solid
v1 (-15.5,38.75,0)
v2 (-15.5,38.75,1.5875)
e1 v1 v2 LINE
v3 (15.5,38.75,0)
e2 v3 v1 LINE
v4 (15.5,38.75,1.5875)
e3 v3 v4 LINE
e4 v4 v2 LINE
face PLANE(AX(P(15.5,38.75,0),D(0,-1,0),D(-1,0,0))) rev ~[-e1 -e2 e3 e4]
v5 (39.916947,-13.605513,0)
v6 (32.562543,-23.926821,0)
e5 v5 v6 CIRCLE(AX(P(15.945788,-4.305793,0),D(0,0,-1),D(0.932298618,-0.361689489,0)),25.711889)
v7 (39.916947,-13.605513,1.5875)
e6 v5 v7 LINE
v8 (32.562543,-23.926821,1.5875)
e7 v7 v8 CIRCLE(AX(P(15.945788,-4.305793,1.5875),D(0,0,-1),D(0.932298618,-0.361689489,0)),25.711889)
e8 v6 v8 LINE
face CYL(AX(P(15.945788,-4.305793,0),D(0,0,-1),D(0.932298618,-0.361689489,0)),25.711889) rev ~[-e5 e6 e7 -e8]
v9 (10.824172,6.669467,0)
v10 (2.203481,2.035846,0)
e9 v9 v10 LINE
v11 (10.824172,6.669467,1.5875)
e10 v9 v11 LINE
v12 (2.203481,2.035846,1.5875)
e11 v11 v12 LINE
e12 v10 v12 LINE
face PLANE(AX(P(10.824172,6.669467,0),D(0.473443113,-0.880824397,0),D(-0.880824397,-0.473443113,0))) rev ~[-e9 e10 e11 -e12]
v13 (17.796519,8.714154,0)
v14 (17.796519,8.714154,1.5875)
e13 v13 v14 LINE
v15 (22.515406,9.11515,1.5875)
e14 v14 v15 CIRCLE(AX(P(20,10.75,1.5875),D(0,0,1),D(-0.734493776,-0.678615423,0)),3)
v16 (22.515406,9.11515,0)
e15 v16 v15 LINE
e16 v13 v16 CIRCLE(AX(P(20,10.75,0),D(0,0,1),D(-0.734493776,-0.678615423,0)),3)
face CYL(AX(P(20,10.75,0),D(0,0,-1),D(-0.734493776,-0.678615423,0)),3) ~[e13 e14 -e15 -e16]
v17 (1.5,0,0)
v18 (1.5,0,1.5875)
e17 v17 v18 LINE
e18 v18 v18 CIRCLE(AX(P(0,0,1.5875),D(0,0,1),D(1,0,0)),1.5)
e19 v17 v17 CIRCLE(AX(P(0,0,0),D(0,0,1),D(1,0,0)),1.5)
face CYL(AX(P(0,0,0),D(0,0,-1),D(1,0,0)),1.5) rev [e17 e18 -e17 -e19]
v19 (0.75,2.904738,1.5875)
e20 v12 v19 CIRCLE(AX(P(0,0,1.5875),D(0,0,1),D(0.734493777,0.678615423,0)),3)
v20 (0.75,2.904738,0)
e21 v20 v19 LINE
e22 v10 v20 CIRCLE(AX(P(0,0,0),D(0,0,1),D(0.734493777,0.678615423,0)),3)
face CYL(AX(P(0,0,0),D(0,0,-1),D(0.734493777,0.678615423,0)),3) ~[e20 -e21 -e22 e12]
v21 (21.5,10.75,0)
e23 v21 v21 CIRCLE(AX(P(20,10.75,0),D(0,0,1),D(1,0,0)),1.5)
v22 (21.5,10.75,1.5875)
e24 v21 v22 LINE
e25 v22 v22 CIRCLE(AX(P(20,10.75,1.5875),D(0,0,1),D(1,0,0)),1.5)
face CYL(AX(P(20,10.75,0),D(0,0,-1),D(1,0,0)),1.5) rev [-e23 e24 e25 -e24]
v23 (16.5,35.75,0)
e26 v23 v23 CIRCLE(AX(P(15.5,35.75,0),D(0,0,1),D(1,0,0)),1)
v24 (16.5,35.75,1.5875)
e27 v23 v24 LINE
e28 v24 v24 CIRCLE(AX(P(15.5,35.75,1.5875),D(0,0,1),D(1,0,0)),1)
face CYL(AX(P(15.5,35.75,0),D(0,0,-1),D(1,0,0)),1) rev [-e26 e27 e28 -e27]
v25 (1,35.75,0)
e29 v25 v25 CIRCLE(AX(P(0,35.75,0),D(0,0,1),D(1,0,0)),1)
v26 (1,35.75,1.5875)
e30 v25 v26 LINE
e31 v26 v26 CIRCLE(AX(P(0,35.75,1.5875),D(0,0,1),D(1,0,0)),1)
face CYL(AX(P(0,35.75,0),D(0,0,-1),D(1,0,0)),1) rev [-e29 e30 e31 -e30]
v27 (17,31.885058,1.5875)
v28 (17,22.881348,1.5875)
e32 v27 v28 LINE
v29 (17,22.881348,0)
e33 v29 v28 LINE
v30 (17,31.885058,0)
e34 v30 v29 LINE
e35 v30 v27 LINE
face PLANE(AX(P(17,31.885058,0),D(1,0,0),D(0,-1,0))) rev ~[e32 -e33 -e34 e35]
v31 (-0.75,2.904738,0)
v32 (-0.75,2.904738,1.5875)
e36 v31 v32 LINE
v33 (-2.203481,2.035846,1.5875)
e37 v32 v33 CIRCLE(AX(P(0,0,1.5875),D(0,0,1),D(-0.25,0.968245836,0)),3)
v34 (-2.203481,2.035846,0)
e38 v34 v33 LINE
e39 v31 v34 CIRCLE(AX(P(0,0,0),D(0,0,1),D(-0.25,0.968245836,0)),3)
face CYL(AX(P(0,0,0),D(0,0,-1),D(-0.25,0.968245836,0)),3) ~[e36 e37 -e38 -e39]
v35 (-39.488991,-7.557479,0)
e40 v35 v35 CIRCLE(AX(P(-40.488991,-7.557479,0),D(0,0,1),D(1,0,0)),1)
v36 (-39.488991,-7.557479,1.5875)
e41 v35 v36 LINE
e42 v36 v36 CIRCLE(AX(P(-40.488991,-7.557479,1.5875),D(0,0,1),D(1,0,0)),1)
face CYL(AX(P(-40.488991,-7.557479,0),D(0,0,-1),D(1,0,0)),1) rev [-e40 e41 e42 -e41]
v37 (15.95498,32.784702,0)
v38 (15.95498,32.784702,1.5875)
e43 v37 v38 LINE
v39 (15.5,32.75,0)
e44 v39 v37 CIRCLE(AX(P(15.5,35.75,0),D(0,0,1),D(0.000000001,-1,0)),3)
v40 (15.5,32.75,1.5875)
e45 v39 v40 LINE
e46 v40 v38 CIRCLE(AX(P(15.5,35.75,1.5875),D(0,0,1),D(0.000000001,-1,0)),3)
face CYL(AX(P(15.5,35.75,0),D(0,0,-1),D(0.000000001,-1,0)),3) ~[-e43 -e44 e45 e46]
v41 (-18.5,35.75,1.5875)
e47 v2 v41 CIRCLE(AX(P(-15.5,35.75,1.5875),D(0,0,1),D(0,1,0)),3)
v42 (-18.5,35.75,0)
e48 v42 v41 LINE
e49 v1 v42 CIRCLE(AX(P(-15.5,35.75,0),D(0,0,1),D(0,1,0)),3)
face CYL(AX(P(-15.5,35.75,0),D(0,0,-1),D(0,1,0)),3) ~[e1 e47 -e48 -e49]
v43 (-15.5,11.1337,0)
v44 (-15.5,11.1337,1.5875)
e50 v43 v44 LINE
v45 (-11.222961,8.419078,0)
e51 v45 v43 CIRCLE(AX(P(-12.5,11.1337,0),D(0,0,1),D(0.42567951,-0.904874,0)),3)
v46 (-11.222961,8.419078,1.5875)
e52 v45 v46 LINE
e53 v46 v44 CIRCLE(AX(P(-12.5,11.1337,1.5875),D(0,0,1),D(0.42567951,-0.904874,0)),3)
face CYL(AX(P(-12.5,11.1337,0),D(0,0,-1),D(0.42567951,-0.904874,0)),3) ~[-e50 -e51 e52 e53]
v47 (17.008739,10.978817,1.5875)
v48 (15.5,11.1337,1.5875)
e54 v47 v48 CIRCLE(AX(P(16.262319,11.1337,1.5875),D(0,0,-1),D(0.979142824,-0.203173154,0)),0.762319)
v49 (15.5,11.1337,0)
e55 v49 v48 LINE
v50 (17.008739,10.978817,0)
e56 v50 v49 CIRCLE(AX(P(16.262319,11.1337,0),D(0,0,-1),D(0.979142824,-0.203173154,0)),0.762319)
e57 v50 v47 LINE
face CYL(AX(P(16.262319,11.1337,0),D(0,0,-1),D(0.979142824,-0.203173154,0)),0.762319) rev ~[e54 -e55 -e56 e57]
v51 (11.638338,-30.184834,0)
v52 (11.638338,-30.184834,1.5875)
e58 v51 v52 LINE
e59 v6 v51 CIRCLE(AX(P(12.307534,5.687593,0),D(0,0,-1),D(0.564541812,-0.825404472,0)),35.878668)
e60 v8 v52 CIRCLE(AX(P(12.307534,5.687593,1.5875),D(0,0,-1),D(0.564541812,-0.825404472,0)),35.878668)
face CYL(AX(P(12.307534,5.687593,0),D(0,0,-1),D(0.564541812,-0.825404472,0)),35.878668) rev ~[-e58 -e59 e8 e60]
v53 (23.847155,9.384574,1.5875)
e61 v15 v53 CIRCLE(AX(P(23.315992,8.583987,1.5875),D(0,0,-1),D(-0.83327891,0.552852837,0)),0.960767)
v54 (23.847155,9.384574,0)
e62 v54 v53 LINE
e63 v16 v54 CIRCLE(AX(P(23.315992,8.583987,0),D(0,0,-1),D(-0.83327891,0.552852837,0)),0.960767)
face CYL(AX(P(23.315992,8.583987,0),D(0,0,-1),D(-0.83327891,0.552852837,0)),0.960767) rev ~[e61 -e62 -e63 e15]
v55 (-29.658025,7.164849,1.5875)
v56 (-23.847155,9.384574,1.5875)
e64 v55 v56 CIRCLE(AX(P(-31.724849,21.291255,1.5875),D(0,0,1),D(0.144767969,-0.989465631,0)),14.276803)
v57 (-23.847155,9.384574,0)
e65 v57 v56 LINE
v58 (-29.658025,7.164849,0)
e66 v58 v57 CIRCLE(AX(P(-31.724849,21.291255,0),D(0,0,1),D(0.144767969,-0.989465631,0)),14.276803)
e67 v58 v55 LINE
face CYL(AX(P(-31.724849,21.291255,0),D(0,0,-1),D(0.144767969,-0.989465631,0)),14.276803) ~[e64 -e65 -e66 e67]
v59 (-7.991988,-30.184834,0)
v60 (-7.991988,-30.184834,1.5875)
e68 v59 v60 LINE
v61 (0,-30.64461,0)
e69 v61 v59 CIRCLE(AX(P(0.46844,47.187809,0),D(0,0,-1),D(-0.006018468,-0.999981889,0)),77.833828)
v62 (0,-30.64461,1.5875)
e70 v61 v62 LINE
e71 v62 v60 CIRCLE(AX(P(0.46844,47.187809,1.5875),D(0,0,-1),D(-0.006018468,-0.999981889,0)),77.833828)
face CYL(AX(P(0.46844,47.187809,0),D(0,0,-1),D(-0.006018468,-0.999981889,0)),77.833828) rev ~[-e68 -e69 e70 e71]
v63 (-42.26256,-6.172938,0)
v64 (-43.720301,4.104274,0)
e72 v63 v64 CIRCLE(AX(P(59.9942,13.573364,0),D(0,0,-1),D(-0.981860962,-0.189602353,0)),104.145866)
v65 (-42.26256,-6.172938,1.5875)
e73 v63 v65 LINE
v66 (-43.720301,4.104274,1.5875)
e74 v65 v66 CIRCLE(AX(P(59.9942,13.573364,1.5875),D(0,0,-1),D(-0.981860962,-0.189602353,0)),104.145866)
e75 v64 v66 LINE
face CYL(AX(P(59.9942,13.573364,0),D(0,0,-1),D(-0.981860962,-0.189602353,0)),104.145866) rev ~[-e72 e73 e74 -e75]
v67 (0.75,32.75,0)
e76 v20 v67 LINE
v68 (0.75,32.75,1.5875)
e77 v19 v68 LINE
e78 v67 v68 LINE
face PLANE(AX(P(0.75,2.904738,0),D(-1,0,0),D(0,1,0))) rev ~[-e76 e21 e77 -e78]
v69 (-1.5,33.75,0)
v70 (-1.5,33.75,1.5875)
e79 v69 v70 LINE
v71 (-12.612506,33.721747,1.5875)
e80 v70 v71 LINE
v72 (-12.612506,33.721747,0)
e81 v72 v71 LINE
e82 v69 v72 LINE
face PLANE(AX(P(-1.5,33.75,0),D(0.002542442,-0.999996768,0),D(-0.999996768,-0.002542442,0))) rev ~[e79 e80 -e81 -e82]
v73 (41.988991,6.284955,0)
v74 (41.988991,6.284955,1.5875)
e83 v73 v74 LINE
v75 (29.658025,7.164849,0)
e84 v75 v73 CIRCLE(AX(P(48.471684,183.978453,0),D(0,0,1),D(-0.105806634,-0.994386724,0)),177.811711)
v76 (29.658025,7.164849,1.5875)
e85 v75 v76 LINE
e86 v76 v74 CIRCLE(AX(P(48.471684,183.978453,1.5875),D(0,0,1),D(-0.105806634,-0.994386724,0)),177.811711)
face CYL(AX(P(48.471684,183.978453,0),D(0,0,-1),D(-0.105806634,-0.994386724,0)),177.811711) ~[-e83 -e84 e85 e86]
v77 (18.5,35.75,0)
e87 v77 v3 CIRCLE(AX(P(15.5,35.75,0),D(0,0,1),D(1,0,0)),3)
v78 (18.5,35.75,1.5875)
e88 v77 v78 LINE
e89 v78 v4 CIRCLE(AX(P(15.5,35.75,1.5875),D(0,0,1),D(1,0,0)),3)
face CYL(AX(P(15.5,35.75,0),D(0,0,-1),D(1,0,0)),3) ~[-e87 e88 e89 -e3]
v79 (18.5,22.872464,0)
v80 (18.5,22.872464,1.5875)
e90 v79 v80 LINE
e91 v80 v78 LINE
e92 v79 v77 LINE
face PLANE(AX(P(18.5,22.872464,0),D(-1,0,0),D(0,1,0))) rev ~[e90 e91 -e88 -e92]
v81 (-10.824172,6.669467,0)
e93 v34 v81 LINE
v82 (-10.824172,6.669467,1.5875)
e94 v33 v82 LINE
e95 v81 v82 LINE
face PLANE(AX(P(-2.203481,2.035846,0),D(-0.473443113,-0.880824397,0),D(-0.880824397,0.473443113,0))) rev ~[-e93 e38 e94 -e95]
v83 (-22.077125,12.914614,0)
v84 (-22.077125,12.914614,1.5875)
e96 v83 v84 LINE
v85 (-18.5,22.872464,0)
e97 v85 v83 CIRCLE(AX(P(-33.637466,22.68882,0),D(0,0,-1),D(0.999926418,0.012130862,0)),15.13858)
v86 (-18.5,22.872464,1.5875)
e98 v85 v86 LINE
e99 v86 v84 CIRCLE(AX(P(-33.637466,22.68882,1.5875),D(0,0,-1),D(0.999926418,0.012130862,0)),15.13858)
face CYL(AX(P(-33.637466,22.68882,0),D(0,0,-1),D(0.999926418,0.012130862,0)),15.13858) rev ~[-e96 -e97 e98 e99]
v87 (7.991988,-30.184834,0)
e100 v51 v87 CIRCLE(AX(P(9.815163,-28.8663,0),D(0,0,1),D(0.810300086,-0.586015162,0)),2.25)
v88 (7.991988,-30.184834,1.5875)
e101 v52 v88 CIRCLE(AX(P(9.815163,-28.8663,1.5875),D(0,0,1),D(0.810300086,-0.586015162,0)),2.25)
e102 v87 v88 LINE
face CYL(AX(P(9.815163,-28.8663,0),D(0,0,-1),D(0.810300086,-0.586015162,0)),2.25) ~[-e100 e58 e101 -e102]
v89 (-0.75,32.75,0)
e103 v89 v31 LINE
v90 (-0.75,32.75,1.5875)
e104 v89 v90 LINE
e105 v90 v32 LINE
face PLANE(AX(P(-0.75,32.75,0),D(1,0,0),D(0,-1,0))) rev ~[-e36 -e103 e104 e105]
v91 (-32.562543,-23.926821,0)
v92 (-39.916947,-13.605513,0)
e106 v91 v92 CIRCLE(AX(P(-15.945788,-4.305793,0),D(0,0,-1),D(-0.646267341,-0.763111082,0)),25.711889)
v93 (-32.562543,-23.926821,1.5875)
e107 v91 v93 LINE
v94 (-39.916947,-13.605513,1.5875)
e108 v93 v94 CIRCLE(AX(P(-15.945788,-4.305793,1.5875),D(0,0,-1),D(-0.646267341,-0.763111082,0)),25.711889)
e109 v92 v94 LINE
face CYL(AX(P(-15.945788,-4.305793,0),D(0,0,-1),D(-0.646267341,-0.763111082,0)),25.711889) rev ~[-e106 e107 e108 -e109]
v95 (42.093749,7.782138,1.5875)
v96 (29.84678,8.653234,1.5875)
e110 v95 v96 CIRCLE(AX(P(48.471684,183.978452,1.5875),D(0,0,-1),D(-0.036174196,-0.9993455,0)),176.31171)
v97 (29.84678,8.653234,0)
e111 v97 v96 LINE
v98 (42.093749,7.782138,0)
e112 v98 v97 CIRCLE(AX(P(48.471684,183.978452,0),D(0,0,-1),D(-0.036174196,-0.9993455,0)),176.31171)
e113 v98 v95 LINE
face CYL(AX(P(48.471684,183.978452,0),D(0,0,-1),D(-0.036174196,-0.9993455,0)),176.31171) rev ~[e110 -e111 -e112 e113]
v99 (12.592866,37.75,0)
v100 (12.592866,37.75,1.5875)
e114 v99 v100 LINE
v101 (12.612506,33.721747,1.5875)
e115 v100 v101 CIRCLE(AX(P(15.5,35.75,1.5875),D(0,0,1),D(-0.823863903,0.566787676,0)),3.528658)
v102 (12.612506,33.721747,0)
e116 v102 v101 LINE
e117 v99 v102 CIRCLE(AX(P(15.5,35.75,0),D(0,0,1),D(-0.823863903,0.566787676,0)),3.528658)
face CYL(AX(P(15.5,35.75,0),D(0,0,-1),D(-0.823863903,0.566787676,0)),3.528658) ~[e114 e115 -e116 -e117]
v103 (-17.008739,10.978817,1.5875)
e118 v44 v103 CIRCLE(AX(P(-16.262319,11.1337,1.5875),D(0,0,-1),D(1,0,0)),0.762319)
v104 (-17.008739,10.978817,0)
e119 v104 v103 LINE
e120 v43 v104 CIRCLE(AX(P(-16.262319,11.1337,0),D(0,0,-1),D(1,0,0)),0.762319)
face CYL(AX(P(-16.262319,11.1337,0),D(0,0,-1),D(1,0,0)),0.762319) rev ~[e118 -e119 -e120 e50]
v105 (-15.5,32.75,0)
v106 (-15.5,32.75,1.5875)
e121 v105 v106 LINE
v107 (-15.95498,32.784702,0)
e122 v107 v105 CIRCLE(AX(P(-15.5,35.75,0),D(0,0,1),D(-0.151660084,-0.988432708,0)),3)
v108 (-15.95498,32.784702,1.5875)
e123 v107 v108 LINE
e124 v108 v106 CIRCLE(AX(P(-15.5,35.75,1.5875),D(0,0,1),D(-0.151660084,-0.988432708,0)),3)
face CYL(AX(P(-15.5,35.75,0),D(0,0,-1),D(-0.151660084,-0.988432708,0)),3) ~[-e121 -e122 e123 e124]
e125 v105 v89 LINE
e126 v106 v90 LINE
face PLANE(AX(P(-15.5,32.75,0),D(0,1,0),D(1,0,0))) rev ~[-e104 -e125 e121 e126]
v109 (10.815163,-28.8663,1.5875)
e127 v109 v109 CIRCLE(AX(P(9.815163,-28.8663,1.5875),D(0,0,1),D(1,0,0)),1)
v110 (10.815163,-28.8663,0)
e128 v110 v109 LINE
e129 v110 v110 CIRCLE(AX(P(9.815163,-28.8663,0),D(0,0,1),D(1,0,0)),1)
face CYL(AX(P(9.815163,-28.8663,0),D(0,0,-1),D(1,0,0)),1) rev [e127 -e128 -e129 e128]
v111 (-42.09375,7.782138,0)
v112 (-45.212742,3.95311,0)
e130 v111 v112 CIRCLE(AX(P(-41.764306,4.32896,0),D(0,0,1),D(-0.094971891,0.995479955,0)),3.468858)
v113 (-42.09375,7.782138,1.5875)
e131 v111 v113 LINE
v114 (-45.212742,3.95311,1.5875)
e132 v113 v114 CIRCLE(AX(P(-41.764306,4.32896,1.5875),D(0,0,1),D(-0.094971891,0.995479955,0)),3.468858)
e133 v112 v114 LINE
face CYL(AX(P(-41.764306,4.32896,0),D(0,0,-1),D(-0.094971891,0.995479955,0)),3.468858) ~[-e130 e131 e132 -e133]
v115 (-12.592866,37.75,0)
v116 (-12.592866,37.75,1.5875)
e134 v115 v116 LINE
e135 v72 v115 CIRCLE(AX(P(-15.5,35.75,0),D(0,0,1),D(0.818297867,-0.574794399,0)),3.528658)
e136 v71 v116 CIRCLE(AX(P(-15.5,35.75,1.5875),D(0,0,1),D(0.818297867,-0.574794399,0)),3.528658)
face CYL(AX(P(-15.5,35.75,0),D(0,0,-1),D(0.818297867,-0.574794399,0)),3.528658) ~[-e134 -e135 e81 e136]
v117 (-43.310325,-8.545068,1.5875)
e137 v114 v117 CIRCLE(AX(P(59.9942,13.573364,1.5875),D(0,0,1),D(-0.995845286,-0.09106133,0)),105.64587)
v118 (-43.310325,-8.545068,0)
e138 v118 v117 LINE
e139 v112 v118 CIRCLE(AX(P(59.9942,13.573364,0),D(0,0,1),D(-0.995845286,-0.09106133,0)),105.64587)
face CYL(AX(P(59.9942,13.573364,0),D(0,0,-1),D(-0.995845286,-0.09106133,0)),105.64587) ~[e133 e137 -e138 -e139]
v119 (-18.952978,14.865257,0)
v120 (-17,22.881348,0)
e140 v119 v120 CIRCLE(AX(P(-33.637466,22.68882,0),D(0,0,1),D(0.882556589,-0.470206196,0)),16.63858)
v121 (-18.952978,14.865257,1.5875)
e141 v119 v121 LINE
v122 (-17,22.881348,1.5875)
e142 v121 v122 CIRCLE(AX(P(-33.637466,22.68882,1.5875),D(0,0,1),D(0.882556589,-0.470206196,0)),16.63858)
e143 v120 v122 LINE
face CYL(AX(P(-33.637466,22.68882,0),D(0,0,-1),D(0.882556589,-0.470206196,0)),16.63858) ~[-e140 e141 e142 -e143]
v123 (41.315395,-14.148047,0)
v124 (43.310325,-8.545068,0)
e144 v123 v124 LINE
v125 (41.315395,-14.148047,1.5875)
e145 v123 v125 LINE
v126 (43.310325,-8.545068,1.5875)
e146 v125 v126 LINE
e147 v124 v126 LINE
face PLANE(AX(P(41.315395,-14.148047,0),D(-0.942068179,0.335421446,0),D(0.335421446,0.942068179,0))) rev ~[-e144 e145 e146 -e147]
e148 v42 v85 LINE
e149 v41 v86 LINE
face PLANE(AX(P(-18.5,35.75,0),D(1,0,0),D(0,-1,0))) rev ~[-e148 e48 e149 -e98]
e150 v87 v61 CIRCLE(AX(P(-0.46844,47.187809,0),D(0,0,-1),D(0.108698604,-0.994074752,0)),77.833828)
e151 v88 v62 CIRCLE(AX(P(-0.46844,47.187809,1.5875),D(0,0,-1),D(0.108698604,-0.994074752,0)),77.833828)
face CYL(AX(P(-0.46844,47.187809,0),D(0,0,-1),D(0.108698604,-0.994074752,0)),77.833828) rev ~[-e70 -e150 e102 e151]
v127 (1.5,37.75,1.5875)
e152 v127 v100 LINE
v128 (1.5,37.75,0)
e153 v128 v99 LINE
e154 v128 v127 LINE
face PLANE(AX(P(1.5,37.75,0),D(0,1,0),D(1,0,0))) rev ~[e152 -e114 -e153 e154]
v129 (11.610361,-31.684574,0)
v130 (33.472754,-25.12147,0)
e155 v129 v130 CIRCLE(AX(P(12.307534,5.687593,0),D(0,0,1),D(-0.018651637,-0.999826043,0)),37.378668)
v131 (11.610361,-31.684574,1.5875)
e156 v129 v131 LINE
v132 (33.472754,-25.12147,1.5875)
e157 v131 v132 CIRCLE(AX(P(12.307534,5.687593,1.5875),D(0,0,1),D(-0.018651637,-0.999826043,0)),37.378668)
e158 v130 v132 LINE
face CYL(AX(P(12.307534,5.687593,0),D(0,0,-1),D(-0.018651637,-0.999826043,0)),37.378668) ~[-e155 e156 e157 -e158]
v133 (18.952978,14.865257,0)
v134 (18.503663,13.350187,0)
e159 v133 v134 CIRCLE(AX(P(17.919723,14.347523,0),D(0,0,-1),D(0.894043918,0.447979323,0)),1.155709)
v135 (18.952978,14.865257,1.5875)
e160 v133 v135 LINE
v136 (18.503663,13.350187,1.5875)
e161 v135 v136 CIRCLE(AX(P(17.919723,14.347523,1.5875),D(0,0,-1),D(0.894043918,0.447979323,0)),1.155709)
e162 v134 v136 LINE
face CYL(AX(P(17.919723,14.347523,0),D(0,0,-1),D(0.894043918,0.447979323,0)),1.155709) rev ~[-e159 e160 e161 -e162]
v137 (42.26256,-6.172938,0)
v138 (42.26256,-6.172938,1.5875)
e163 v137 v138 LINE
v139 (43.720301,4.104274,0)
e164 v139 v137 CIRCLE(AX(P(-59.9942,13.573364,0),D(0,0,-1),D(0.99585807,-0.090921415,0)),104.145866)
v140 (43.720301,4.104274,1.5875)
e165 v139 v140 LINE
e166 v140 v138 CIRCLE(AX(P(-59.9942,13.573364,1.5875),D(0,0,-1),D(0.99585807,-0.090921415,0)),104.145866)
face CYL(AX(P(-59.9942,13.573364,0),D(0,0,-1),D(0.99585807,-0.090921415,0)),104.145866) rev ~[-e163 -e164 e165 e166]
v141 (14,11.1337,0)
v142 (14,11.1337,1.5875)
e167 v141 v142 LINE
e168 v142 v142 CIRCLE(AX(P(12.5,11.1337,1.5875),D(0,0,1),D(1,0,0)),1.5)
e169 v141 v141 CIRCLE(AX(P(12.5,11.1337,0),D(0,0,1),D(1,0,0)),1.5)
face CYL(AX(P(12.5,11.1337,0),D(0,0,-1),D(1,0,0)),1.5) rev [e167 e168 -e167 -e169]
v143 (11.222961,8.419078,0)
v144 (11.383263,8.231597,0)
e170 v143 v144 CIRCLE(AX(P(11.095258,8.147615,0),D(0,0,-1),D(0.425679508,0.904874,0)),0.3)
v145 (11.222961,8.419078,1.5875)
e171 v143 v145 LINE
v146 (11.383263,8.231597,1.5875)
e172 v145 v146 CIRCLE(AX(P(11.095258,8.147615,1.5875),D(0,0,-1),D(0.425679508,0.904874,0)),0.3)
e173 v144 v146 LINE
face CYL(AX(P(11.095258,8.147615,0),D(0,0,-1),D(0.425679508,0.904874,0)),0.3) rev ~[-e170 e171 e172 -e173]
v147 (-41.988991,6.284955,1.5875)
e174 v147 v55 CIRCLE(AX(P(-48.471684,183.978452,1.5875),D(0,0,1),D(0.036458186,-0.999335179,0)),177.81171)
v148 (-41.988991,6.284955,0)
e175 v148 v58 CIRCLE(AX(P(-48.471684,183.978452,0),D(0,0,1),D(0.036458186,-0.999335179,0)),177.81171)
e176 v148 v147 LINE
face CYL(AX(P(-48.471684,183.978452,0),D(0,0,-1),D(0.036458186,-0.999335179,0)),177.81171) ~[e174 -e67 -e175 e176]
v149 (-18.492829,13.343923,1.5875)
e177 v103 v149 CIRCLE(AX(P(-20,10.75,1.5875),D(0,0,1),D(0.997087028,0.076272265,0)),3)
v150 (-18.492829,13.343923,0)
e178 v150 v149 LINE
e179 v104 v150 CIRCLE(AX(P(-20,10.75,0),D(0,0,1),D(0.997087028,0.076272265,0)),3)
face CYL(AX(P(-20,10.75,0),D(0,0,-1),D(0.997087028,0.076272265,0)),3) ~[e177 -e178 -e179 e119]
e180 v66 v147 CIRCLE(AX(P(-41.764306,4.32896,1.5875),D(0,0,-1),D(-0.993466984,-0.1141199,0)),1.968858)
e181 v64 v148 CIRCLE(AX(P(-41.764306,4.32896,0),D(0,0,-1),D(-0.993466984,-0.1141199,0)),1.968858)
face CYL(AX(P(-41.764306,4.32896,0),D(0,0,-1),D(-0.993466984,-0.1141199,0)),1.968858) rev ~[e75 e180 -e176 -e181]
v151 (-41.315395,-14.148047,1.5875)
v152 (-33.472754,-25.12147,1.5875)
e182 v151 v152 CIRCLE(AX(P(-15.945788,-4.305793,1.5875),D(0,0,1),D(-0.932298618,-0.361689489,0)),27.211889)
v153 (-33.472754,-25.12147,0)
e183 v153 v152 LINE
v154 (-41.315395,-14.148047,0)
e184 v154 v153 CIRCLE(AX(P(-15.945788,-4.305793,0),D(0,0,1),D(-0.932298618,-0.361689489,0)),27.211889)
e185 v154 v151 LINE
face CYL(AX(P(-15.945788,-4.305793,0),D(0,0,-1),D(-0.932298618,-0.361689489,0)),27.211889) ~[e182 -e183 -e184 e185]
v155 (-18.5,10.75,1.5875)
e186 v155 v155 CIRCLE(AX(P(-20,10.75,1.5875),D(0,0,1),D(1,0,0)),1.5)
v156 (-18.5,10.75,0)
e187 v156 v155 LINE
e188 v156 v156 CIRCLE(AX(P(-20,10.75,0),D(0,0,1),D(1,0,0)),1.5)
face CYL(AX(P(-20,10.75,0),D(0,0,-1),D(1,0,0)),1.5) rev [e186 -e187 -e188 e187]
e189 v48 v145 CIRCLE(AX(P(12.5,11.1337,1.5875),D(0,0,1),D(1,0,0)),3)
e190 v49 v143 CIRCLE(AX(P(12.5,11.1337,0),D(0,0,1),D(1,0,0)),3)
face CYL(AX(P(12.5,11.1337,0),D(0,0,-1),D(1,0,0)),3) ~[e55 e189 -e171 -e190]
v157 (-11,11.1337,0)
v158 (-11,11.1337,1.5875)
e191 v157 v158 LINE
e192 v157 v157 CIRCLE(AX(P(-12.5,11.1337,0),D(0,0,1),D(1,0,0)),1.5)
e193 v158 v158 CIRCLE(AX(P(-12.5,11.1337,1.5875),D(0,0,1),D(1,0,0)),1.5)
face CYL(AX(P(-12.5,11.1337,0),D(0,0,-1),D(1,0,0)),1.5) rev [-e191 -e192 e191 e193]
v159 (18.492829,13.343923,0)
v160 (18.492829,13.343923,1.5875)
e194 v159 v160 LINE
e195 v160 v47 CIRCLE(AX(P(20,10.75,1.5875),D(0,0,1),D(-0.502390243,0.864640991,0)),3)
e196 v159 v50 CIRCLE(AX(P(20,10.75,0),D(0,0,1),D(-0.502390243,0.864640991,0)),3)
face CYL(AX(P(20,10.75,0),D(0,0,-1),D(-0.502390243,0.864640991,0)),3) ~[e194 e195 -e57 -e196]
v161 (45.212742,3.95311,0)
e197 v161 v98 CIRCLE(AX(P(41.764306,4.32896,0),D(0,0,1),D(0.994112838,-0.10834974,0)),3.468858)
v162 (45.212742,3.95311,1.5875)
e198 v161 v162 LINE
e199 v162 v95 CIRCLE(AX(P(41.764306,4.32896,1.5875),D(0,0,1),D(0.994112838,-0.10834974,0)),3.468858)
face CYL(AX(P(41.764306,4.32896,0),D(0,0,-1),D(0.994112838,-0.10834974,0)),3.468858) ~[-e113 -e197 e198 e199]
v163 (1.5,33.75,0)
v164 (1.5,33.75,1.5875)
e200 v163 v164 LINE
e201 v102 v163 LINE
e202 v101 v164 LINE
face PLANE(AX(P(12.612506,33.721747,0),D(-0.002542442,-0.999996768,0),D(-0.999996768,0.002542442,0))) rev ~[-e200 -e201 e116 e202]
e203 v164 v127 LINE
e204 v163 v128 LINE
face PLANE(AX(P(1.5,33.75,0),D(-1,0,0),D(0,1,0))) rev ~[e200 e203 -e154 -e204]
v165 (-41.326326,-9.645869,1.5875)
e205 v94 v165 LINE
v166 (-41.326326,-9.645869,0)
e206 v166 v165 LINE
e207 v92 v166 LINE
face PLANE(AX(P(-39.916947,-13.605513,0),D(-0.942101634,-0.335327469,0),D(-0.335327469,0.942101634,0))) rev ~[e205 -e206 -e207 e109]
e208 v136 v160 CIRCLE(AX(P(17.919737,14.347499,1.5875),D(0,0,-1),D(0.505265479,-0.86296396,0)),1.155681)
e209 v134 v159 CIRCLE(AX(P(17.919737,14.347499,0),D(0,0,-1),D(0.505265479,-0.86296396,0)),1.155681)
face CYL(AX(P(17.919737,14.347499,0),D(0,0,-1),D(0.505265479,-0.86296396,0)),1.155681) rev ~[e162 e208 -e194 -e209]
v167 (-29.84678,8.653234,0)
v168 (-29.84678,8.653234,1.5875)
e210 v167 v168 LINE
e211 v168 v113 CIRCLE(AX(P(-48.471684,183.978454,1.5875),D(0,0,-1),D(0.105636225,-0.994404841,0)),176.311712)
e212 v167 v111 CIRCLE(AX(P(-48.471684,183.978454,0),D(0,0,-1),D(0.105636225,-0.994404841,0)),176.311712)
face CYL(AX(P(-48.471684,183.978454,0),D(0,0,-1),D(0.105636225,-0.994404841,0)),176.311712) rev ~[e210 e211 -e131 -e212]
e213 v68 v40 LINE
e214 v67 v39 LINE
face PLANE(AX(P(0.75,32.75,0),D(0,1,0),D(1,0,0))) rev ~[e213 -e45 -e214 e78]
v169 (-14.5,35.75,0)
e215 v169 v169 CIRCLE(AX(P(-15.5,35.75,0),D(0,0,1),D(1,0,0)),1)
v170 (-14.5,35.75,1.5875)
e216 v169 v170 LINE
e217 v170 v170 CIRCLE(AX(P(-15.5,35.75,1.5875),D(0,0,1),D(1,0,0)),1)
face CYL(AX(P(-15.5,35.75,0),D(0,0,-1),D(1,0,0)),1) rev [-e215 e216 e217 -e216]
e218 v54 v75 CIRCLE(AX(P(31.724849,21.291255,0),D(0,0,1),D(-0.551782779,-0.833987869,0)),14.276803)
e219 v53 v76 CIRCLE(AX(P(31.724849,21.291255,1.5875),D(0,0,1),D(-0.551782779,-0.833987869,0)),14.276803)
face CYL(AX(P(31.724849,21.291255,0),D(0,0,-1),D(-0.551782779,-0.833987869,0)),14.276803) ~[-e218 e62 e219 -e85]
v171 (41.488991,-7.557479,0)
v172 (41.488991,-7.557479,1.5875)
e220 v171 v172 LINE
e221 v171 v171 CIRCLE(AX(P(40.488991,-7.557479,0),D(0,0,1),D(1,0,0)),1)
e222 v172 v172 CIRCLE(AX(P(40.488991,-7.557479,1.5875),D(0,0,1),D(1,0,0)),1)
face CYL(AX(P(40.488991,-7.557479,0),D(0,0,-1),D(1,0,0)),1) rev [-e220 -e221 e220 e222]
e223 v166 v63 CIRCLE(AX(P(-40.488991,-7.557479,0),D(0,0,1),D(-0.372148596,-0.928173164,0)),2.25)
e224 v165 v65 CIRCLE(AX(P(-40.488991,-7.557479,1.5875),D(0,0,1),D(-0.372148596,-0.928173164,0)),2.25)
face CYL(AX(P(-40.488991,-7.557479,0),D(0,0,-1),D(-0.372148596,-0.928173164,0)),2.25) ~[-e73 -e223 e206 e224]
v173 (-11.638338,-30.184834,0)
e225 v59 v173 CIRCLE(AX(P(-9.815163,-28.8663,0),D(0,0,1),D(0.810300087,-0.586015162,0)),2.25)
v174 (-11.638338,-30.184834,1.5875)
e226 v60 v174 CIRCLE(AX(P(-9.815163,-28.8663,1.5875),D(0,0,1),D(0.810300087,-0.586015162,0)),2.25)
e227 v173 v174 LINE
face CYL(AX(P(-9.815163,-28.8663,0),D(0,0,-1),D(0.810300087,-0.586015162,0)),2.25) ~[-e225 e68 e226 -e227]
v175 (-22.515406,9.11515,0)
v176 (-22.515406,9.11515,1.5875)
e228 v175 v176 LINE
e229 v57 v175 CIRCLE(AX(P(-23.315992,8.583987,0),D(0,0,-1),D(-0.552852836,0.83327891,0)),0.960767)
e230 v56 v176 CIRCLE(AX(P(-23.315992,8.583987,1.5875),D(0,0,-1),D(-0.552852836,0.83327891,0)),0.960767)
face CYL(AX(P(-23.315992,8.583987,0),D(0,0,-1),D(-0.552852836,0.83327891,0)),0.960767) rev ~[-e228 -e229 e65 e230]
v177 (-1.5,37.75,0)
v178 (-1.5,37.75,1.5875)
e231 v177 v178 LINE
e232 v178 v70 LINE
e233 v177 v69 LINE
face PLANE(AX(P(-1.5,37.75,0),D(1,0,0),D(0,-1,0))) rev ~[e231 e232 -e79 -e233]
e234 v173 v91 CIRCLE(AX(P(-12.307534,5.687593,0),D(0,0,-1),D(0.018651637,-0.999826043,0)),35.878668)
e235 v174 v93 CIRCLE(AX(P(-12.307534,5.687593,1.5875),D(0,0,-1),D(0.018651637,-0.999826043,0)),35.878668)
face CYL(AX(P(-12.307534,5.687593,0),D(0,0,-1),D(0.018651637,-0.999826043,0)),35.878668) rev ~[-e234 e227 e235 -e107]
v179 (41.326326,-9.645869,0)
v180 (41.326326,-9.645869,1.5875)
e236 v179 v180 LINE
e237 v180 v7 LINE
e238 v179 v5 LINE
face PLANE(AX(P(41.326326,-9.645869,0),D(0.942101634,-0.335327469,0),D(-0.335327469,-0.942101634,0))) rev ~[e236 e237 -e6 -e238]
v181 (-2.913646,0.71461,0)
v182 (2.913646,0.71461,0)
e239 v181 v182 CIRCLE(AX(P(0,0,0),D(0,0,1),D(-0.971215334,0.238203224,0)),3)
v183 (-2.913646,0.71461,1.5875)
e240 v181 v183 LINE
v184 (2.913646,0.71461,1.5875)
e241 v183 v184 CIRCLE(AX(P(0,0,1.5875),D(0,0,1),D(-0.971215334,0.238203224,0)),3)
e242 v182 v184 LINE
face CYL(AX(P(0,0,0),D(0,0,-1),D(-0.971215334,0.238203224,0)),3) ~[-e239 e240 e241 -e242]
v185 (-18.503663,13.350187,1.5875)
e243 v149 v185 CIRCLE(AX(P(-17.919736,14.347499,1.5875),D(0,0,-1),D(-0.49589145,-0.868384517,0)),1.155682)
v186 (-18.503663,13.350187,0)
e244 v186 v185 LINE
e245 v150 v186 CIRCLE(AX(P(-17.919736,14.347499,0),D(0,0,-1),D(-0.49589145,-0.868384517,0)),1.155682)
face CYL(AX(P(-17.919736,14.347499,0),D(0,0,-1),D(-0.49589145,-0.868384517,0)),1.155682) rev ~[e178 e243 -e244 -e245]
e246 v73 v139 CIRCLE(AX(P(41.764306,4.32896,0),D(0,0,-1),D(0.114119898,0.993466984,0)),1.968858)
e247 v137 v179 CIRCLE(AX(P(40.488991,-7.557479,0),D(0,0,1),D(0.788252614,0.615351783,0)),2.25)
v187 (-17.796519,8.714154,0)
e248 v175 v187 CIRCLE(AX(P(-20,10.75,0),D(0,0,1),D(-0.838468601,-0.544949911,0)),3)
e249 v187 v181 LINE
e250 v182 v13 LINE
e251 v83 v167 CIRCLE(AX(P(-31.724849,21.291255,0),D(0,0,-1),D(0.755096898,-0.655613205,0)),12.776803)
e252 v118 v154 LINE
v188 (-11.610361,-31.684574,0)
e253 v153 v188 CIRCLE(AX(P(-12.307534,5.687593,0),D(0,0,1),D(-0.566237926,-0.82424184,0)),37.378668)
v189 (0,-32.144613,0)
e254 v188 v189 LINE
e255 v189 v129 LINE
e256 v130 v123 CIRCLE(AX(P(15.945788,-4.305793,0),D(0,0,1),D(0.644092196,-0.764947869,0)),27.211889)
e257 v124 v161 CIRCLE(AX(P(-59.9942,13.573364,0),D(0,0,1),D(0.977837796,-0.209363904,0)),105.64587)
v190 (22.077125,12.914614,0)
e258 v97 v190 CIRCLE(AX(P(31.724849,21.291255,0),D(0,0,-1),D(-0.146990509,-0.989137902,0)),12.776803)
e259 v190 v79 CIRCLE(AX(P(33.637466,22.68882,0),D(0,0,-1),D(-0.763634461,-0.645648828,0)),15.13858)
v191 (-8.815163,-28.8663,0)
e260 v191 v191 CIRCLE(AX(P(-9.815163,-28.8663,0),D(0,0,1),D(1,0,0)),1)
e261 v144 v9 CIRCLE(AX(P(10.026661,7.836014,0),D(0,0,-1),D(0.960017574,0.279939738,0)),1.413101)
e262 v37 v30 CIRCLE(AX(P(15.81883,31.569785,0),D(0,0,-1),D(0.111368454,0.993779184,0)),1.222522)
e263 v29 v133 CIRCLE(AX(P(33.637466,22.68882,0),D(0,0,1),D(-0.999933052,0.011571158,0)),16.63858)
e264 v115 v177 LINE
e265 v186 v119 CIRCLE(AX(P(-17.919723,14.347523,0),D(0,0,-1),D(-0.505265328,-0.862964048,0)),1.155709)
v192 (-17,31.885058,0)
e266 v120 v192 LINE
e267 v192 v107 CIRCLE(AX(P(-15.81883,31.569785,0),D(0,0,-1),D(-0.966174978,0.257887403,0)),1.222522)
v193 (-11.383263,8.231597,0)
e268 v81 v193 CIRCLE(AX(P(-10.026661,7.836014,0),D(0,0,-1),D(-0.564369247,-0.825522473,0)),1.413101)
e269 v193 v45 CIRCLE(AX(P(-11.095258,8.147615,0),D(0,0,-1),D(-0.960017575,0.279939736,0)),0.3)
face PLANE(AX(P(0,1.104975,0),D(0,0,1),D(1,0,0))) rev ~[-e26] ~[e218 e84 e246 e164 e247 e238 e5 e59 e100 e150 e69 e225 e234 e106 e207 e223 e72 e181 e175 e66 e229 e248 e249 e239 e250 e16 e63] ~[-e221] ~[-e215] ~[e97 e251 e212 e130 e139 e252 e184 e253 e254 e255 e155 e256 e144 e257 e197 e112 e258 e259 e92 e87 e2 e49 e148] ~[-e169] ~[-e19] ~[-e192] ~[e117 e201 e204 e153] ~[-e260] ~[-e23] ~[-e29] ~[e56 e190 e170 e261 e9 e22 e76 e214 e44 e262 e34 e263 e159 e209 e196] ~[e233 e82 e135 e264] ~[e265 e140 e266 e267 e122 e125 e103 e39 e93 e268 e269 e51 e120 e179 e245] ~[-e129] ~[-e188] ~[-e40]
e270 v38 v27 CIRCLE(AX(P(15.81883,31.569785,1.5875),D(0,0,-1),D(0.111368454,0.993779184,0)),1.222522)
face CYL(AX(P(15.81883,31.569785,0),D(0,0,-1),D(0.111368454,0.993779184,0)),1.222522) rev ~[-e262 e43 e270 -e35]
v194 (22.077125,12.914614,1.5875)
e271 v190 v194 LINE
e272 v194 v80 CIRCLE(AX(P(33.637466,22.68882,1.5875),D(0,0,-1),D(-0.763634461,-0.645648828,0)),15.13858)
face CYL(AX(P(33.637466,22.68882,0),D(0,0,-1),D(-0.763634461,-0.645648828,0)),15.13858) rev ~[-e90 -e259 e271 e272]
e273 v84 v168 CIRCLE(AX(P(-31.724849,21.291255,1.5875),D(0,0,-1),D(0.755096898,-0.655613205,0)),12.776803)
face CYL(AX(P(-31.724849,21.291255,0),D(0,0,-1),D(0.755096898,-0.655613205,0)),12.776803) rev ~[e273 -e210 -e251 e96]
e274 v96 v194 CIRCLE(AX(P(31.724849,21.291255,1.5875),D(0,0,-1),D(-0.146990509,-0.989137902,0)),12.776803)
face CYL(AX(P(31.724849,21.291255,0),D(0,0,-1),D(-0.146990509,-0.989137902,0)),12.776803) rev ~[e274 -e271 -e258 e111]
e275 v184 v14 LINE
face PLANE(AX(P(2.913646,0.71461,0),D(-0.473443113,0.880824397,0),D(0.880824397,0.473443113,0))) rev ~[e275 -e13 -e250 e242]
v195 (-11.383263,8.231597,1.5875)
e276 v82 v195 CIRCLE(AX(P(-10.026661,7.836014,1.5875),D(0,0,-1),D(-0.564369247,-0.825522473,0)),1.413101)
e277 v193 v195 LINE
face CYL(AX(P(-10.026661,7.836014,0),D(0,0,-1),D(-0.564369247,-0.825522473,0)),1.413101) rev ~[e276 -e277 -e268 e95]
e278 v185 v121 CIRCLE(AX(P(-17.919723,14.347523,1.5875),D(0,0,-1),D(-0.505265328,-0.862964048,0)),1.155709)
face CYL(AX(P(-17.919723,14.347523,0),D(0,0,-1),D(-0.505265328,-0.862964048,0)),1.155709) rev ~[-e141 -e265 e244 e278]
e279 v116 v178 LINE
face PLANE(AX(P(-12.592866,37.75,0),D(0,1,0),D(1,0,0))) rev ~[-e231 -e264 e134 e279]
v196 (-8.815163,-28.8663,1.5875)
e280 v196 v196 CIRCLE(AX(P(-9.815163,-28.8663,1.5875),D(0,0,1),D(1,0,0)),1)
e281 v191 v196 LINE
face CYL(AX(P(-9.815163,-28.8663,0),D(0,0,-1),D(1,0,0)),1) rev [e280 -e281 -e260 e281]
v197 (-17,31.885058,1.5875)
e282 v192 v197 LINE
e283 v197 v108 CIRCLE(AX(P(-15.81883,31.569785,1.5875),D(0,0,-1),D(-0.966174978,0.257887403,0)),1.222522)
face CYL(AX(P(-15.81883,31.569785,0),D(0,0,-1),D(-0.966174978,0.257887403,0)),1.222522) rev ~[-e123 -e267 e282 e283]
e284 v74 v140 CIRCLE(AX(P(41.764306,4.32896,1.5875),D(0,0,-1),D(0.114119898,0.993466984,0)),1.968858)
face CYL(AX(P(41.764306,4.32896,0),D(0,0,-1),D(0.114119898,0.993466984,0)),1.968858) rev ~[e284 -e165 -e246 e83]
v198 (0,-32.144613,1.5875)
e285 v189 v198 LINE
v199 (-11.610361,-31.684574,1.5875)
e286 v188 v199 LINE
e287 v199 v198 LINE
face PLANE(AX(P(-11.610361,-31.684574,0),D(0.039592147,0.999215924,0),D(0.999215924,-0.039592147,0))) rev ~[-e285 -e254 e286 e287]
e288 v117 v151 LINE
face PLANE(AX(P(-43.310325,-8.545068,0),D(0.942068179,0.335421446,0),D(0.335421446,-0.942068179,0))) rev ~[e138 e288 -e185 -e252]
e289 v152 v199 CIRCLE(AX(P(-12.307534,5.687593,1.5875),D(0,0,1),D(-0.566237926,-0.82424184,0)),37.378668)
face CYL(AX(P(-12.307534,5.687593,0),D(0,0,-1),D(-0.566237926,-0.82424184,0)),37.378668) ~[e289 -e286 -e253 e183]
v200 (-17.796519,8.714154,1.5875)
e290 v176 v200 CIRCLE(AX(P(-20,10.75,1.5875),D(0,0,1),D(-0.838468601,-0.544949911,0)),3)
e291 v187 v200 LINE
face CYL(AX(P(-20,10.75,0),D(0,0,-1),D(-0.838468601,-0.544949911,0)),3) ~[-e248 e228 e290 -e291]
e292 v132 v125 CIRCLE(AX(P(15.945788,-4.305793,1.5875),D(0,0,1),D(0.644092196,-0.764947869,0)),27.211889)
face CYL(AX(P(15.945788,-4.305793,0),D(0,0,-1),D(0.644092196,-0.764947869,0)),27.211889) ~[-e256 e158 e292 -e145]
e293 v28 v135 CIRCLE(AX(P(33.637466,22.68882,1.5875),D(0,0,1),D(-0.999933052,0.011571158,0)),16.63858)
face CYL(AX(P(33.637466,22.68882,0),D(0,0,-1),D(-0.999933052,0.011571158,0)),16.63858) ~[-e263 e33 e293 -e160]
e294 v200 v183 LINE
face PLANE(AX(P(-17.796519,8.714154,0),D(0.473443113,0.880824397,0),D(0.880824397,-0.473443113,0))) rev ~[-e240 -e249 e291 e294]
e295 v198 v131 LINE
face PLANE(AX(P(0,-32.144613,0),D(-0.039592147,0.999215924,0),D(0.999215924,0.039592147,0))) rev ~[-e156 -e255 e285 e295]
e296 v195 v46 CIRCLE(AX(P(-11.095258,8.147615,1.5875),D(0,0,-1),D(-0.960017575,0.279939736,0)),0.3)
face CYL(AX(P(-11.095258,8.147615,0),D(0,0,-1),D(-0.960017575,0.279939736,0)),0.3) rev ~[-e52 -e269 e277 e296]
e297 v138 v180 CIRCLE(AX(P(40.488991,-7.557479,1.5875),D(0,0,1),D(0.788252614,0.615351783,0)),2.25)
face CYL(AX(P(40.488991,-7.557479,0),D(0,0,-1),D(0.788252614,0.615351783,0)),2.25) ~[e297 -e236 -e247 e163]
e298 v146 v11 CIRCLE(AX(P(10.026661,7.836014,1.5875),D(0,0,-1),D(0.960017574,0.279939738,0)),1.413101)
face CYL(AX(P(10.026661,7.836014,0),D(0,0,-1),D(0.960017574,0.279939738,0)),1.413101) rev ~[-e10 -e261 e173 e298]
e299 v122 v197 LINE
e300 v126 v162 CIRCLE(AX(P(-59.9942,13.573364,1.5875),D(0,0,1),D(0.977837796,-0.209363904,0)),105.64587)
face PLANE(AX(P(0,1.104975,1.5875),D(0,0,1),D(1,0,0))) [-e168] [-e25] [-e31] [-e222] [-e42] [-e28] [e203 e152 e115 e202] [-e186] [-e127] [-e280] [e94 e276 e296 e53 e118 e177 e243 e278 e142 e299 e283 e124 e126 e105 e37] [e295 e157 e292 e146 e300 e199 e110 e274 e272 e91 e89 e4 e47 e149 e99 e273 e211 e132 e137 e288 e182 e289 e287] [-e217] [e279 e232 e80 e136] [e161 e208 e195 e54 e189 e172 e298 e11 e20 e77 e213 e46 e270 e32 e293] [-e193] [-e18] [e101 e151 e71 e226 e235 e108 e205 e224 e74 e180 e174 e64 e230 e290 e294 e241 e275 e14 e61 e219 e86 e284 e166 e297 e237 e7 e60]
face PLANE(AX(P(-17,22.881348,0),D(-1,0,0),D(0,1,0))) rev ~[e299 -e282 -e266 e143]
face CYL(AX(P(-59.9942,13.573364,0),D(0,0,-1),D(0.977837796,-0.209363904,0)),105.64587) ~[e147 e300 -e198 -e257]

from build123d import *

# Parameters (mm, degrees)
SKETCH4_R           = 1
SKETCH4_R_2         = 1.5
SKETCH4_R_3         = 1.500000001
BOSS_EXTRUDE2_DEPTH = 1.5875


with BuildPart() as part:
    # Sketch4 → Boss-Extrude2 (new body)
    with BuildSketch(Plane.XY):
        with BuildLine():
            ThreePointArc((-33.472754103, -25.121469845), (-23.054804413, -30.112701264), (-11.610361031, -31.68457355))
            Line((-11.610361031, -31.68457355), (0, -32.144613372))
            Line((0, -32.144613372), (11.610361031, -31.68457355))
            ThreePointArc((11.610361031, -31.68457355), (23.054804413, -30.112701264), (33.472754103, -25.121469845))
            ThreePointArc((33.472754103, -25.121469845), (38.084735692, -20.128369992), (41.315395383, -14.148047401))
            Line((41.315395383, -14.148047401), (43.310324676, -8.545068137))
            ThreePointArc((43.310324676, -8.545068137), (44.448650445, -2.324461154), (45.212741618, 3.953110149))
            ThreePointArc((45.212741618, 3.953110149), (44.453814547, 6.519739723), (42.09374947, 7.782138432))
            ThreePointArc((42.09374947, 7.782138432), (35.962680023, 8.111048014), (29.846780415, 8.653234381))
            ThreePointArc((29.846780415, 8.653234381), (25.580679905, 10.088760175), (22.077124707, 12.914613823))
            ThreePointArc((22.077124707, 12.914613823), (19.390258386, 17.570844388), (18.500000009, 22.872464303))
            Line((18.500000009, 22.872464303), (18.500000009, 35.75))
            ThreePointArc((18.500000009, 35.75), (17.62132035, 37.87132035), (15.5, 38.750000009))
            Line((15.5, 38.750000009), (-15.5, 38.750000009))
            ThreePointArc((-15.5, 38.750000009), (-17.62132035, 37.87132035), (-18.500000009, 35.75))
            Line((-18.500000009, 35.75), (-18.500000009, 22.872464277))
            ThreePointArc((-18.500000009, 22.872464277), (-19.390258383, 17.570844381), (-22.07712469, 12.91461383))
            ThreePointArc((-22.07712469, 12.91461383), (-25.580679805, 10.088760216), (-29.846780215, 8.653234395))
            ThreePointArc((-29.846780215, 8.653234395), (-35.962679941, 8.111048017), (-42.093749505, 7.78213843))
            ThreePointArc((-42.093749505, 7.78213843), (-44.453814559, 6.519739711), (-45.212741618, 3.953110149))
            ThreePointArc((-45.212741618, 3.953110149), (-44.448650445, -2.324461154), (-43.310324676, -8.545068137))
            Line((-43.310324676, -8.545068137), (-41.315395383, -14.148047401))
            ThreePointArc((-41.315395383, -14.148047401), (-38.084735692, -20.128369992), (-33.472754103, -25.121469845))
        make_face()
        with Locations((-9.815163292, -28.866300371)):
            Circle(SKETCH4_R, mode=Mode.SUBTRACT)
        with Locations((-40.488991371, -7.557479081)):
            Circle(SKETCH4_R, mode=Mode.SUBTRACT)
        with BuildLine():
            Line((-39.916947455, -13.605513167), (-41.326325711, -9.6458687))
            ThreePointArc((-41.326325711, -9.6458687), (-38.316546684, -6.971830651), (-42.262559751, -6.172937569))
            ThreePointArc((-42.262559751, -6.172937569), (-43.119549374, -1.052504396), (-43.720300768, 4.104274139))
            ThreePointArc((-43.720300768, 4.104274139), (-43.306279922, 5.553180603), (-41.988991391, 6.284955247))
            ThreePointArc((-41.988991391, 6.284955247), (-35.815859297, 6.617706074), (-29.658025423, 7.164848598))
            ThreePointArc((-29.658025423, 7.164848598), (-26.630229039, 7.954390182), (-23.847155024, 9.384574043))
            ThreePointArc((-23.847155024, 9.384574043), (-23.125480938, 9.525676377), (-22.515405804, 9.115150267))
            ThreePointArc((-22.515405804, 9.115150267), (-20.254015304, 7.760773306), (-17.79651867, 8.714153732))
            Line((-17.79651867, 8.714153732), (-2.913646, 0.714609672))
            ThreePointArc((-2.913646, 0.714609672), (0, -3), (2.913646001, 0.714609672))
            Line((2.913646001, 0.714609672), (17.79651867, 8.714153732))
            ThreePointArc((17.79651867, 8.714153732), (20.254015126, 7.760773292), (22.515405609, 9.115149969))
            ThreePointArc((22.515405609, 9.115149969), (23.125480765, 9.52567634), (23.847155026, 9.384574041))
            ThreePointArc((23.847155026, 9.384574041), (26.630229041, 7.954390183), (29.658025423, 7.164848601))
            ThreePointArc((29.658025423, 7.164848601), (35.815859287, 6.617706075), (41.988991371, 6.284955244))
            ThreePointArc((41.988991371, 6.284955244), (43.306279914, 5.553180608), (43.720300768, 4.104274139))
            ThreePointArc((43.720300768, 4.104274139), (43.119549374, -1.052504396), (42.262559751, -6.172937569))
            ThreePointArc((42.262559751, -6.172937569), (38.316546684, -6.971830651), (41.326325712, -9.6458687))
            Line((41.326325712, -9.6458687), (39.916947456, -13.605513167))
            ThreePointArc((39.916947456, -13.605513167), (36.88563151, -19.226390572), (32.562542901, -23.926820768))
            ThreePointArc((32.562542901, -23.926820768), (22.58818115, -28.686629582), (11.638338487, -30.184834485))
            ThreePointArc((11.638338487, -30.184834485), (9.815163292, -26.616300371), (7.991988098, -30.184834485))
            ThreePointArc((7.991988098, -30.184834485), (4.00190894, -30.517536934), (0, -30.644609524))
            ThreePointArc((0, -30.644609524), (-4.00190894, -30.517536934), (-7.991988097, -30.184834485))
            ThreePointArc((-7.991988097, -30.184834485), (-9.815163292, -26.616300371), (-11.638338487, -30.184834485))
            ThreePointArc((-11.638338487, -30.184834485), (-22.58818115, -28.686629582), (-32.562542901, -23.926820768))
            ThreePointArc((-32.562542901, -23.926820768), (-36.88563151, -19.226390572), (-39.916947455, -13.605513167))
        make_face(mode=Mode.SUBTRACT)
        with Locations((9.815163292, -28.866300371)):
            Circle(SKETCH4_R, mode=Mode.SUBTRACT)
        Circle(SKETCH4_R_2, mode=Mode.SUBTRACT)
        with Locations((40.488991371, -7.557479081)):
            Circle(SKETCH4_R, mode=Mode.SUBTRACT)
        with Locations((-20.000000001, 10.750000001)):
            Circle(SKETCH4_R_3, mode=Mode.SUBTRACT)
        with Locations((-12.5, 11.133699629)):
            Circle(SKETCH4_R_2, mode=Mode.SUBTRACT)
        with BuildLine():
            ThreePointArc((-18.952977672, 14.865256843), (-17.471741936, 18.750329795), (-17.000000007, 22.881347914))
            Line((-17.000000007, 22.881347914), (-17.000000007, 31.885058019))
            ThreePointArc((-17.000000007, 31.885058019), (-16.616434483, 32.496276684), (-15.954980266, 32.784701868))
            ThreePointArc((-15.954980266, 32.784701868), (-15.728150861, 32.758688041), (-15.5, 32.749999991))
            Line((-15.5, 32.749999991), (-0.750000001, 32.749999991))
            Line((-0.750000001, 32.749999991), (-0.750000001, 2.90473751))
            ThreePointArc((-0.750000001, 2.90473751), (-1.539319977, 2.574974565), (-2.20348133, 2.035846268))
            Line((-2.20348133, 2.035846268), (-10.824171764, 6.669467376))
            ThreePointArc((-10.824171764, 6.669467376), (-11.357116861, 7.359839891), (-11.38326289, 8.231597352))
            ThreePointArc((-11.38326289, 8.231597352), (-11.323272383, 8.342575085), (-11.222961471, 8.41907763))
            ThreePointArc((-11.222961471, 8.41907763), (-10.892379956, 13.66659477), (-15.5, 11.133699629))
            ThreePointArc((-15.5, 11.133699629), (-16.184470968, 10.375365631), (-17.008738916, 10.978816797))
            ThreePointArc((-17.008738916, 10.978816797), (-17.458857736, 12.344551974), (-18.492829269, 13.343922973))
            ThreePointArc((-18.492829269, 13.343922973), (-18.498254435, 13.347040523), (-18.503662642, 13.3501874))
            ThreePointArc((-18.503662642, 13.3501874), (-19.027733875, 14.018926796), (-18.952977672, 14.865256843))
        make_face(mode=Mode.SUBTRACT)
        with Locations((-15.5, 35.75)):
            Circle(SKETCH4_R, mode=Mode.SUBTRACT)
        with BuildLine():
            Line((-12.592865853, 37.75), (-1.5, 37.75))
            Line((-1.5, 37.75), (-1.5, 33.75))
            Line((-1.5, 33.75), (-12.612506492, 33.721747011))
            ThreePointArc((-12.612506492, 33.721747011), (-11.971383706, 35.732795451), (-12.592865853, 37.75))
        make_face(mode=Mode.SUBTRACT)
        with Locations((12.5, 11.133699629)):
            Circle(SKETCH4_R_2, mode=Mode.SUBTRACT)
        with Locations((20, 10.75)):
            Circle(SKETCH4_R_2, mode=Mode.SUBTRACT)
        with BuildLine():
            Line((17.000000002, 31.88505801), (17.000000002, 22.881347906))
            ThreePointArc((17.000000002, 22.881347906), (17.471741935, 18.750329789), (18.952977675, 14.865256841))
            ThreePointArc((18.952977675, 14.865256841), (19.027733877, 14.018926793), (18.503662641, 13.350187397))
            ThreePointArc((18.503662641, 13.350187397), (18.498254436, 13.347040521), (18.492829272, 13.343922972))
            ThreePointArc((18.492829271, 13.343922974), (17.458857737, 12.344551974), (17.008738916, 10.978816797))
            ThreePointArc((17.008738916, 10.978816797), (16.184470968, 10.375365631), (15.5, 11.133699629))
            ThreePointArc((15.5, 11.133699629), (10.892379956, 13.66659477), (11.222961471, 8.41907763))
            ThreePointArc((11.222961471, 8.41907763), (11.323272383, 8.342575085), (11.38326289, 8.231597352))
            ThreePointArc((11.38326289, 8.231597352), (11.357116861, 7.359839891), (10.824171764, 6.669467376))
            Line((10.824171764, 6.669467376), (2.20348133, 2.035846268))
            ThreePointArc((2.20348133, 2.035846268), (1.539319976, 2.574974565), (0.749999999, 2.90473751))
            Line((0.749999999, 2.90473751), (0.749999999, 32.749999991))
            Line((0.749999999, 32.749999991), (15.5, 32.749999991))
            ThreePointArc((15.5, 32.749999991), (15.728150862, 32.758688041), (15.954980267, 32.784701869))
            ThreePointArc((15.954980267, 32.784701869), (16.616434482, 32.496276679), (17.000000002, 31.88505801))
        make_face(mode=Mode.SUBTRACT)
        with Locations((0, 35.75)):
            Circle(SKETCH4_R, mode=Mode.SUBTRACT)
        with BuildLine():
            Line((1.5, 33.75), (1.5, 37.75))
            Line((1.5, 37.75), (12.592865854, 37.75))
            ThreePointArc((12.592865854, 37.75), (11.971383706, 35.732795451), (12.612506492, 33.721747011))
            Line((12.612506492, 33.721747011), (1.5, 33.75))
        make_face(mode=Mode.SUBTRACT)
        with Locations((15.5, 35.75)):
            Circle(SKETCH4_R, mode=Mode.SUBTRACT)
    extrude(amount=BOSS_EXTRUDE2_DEPTH)


solid = part.part
